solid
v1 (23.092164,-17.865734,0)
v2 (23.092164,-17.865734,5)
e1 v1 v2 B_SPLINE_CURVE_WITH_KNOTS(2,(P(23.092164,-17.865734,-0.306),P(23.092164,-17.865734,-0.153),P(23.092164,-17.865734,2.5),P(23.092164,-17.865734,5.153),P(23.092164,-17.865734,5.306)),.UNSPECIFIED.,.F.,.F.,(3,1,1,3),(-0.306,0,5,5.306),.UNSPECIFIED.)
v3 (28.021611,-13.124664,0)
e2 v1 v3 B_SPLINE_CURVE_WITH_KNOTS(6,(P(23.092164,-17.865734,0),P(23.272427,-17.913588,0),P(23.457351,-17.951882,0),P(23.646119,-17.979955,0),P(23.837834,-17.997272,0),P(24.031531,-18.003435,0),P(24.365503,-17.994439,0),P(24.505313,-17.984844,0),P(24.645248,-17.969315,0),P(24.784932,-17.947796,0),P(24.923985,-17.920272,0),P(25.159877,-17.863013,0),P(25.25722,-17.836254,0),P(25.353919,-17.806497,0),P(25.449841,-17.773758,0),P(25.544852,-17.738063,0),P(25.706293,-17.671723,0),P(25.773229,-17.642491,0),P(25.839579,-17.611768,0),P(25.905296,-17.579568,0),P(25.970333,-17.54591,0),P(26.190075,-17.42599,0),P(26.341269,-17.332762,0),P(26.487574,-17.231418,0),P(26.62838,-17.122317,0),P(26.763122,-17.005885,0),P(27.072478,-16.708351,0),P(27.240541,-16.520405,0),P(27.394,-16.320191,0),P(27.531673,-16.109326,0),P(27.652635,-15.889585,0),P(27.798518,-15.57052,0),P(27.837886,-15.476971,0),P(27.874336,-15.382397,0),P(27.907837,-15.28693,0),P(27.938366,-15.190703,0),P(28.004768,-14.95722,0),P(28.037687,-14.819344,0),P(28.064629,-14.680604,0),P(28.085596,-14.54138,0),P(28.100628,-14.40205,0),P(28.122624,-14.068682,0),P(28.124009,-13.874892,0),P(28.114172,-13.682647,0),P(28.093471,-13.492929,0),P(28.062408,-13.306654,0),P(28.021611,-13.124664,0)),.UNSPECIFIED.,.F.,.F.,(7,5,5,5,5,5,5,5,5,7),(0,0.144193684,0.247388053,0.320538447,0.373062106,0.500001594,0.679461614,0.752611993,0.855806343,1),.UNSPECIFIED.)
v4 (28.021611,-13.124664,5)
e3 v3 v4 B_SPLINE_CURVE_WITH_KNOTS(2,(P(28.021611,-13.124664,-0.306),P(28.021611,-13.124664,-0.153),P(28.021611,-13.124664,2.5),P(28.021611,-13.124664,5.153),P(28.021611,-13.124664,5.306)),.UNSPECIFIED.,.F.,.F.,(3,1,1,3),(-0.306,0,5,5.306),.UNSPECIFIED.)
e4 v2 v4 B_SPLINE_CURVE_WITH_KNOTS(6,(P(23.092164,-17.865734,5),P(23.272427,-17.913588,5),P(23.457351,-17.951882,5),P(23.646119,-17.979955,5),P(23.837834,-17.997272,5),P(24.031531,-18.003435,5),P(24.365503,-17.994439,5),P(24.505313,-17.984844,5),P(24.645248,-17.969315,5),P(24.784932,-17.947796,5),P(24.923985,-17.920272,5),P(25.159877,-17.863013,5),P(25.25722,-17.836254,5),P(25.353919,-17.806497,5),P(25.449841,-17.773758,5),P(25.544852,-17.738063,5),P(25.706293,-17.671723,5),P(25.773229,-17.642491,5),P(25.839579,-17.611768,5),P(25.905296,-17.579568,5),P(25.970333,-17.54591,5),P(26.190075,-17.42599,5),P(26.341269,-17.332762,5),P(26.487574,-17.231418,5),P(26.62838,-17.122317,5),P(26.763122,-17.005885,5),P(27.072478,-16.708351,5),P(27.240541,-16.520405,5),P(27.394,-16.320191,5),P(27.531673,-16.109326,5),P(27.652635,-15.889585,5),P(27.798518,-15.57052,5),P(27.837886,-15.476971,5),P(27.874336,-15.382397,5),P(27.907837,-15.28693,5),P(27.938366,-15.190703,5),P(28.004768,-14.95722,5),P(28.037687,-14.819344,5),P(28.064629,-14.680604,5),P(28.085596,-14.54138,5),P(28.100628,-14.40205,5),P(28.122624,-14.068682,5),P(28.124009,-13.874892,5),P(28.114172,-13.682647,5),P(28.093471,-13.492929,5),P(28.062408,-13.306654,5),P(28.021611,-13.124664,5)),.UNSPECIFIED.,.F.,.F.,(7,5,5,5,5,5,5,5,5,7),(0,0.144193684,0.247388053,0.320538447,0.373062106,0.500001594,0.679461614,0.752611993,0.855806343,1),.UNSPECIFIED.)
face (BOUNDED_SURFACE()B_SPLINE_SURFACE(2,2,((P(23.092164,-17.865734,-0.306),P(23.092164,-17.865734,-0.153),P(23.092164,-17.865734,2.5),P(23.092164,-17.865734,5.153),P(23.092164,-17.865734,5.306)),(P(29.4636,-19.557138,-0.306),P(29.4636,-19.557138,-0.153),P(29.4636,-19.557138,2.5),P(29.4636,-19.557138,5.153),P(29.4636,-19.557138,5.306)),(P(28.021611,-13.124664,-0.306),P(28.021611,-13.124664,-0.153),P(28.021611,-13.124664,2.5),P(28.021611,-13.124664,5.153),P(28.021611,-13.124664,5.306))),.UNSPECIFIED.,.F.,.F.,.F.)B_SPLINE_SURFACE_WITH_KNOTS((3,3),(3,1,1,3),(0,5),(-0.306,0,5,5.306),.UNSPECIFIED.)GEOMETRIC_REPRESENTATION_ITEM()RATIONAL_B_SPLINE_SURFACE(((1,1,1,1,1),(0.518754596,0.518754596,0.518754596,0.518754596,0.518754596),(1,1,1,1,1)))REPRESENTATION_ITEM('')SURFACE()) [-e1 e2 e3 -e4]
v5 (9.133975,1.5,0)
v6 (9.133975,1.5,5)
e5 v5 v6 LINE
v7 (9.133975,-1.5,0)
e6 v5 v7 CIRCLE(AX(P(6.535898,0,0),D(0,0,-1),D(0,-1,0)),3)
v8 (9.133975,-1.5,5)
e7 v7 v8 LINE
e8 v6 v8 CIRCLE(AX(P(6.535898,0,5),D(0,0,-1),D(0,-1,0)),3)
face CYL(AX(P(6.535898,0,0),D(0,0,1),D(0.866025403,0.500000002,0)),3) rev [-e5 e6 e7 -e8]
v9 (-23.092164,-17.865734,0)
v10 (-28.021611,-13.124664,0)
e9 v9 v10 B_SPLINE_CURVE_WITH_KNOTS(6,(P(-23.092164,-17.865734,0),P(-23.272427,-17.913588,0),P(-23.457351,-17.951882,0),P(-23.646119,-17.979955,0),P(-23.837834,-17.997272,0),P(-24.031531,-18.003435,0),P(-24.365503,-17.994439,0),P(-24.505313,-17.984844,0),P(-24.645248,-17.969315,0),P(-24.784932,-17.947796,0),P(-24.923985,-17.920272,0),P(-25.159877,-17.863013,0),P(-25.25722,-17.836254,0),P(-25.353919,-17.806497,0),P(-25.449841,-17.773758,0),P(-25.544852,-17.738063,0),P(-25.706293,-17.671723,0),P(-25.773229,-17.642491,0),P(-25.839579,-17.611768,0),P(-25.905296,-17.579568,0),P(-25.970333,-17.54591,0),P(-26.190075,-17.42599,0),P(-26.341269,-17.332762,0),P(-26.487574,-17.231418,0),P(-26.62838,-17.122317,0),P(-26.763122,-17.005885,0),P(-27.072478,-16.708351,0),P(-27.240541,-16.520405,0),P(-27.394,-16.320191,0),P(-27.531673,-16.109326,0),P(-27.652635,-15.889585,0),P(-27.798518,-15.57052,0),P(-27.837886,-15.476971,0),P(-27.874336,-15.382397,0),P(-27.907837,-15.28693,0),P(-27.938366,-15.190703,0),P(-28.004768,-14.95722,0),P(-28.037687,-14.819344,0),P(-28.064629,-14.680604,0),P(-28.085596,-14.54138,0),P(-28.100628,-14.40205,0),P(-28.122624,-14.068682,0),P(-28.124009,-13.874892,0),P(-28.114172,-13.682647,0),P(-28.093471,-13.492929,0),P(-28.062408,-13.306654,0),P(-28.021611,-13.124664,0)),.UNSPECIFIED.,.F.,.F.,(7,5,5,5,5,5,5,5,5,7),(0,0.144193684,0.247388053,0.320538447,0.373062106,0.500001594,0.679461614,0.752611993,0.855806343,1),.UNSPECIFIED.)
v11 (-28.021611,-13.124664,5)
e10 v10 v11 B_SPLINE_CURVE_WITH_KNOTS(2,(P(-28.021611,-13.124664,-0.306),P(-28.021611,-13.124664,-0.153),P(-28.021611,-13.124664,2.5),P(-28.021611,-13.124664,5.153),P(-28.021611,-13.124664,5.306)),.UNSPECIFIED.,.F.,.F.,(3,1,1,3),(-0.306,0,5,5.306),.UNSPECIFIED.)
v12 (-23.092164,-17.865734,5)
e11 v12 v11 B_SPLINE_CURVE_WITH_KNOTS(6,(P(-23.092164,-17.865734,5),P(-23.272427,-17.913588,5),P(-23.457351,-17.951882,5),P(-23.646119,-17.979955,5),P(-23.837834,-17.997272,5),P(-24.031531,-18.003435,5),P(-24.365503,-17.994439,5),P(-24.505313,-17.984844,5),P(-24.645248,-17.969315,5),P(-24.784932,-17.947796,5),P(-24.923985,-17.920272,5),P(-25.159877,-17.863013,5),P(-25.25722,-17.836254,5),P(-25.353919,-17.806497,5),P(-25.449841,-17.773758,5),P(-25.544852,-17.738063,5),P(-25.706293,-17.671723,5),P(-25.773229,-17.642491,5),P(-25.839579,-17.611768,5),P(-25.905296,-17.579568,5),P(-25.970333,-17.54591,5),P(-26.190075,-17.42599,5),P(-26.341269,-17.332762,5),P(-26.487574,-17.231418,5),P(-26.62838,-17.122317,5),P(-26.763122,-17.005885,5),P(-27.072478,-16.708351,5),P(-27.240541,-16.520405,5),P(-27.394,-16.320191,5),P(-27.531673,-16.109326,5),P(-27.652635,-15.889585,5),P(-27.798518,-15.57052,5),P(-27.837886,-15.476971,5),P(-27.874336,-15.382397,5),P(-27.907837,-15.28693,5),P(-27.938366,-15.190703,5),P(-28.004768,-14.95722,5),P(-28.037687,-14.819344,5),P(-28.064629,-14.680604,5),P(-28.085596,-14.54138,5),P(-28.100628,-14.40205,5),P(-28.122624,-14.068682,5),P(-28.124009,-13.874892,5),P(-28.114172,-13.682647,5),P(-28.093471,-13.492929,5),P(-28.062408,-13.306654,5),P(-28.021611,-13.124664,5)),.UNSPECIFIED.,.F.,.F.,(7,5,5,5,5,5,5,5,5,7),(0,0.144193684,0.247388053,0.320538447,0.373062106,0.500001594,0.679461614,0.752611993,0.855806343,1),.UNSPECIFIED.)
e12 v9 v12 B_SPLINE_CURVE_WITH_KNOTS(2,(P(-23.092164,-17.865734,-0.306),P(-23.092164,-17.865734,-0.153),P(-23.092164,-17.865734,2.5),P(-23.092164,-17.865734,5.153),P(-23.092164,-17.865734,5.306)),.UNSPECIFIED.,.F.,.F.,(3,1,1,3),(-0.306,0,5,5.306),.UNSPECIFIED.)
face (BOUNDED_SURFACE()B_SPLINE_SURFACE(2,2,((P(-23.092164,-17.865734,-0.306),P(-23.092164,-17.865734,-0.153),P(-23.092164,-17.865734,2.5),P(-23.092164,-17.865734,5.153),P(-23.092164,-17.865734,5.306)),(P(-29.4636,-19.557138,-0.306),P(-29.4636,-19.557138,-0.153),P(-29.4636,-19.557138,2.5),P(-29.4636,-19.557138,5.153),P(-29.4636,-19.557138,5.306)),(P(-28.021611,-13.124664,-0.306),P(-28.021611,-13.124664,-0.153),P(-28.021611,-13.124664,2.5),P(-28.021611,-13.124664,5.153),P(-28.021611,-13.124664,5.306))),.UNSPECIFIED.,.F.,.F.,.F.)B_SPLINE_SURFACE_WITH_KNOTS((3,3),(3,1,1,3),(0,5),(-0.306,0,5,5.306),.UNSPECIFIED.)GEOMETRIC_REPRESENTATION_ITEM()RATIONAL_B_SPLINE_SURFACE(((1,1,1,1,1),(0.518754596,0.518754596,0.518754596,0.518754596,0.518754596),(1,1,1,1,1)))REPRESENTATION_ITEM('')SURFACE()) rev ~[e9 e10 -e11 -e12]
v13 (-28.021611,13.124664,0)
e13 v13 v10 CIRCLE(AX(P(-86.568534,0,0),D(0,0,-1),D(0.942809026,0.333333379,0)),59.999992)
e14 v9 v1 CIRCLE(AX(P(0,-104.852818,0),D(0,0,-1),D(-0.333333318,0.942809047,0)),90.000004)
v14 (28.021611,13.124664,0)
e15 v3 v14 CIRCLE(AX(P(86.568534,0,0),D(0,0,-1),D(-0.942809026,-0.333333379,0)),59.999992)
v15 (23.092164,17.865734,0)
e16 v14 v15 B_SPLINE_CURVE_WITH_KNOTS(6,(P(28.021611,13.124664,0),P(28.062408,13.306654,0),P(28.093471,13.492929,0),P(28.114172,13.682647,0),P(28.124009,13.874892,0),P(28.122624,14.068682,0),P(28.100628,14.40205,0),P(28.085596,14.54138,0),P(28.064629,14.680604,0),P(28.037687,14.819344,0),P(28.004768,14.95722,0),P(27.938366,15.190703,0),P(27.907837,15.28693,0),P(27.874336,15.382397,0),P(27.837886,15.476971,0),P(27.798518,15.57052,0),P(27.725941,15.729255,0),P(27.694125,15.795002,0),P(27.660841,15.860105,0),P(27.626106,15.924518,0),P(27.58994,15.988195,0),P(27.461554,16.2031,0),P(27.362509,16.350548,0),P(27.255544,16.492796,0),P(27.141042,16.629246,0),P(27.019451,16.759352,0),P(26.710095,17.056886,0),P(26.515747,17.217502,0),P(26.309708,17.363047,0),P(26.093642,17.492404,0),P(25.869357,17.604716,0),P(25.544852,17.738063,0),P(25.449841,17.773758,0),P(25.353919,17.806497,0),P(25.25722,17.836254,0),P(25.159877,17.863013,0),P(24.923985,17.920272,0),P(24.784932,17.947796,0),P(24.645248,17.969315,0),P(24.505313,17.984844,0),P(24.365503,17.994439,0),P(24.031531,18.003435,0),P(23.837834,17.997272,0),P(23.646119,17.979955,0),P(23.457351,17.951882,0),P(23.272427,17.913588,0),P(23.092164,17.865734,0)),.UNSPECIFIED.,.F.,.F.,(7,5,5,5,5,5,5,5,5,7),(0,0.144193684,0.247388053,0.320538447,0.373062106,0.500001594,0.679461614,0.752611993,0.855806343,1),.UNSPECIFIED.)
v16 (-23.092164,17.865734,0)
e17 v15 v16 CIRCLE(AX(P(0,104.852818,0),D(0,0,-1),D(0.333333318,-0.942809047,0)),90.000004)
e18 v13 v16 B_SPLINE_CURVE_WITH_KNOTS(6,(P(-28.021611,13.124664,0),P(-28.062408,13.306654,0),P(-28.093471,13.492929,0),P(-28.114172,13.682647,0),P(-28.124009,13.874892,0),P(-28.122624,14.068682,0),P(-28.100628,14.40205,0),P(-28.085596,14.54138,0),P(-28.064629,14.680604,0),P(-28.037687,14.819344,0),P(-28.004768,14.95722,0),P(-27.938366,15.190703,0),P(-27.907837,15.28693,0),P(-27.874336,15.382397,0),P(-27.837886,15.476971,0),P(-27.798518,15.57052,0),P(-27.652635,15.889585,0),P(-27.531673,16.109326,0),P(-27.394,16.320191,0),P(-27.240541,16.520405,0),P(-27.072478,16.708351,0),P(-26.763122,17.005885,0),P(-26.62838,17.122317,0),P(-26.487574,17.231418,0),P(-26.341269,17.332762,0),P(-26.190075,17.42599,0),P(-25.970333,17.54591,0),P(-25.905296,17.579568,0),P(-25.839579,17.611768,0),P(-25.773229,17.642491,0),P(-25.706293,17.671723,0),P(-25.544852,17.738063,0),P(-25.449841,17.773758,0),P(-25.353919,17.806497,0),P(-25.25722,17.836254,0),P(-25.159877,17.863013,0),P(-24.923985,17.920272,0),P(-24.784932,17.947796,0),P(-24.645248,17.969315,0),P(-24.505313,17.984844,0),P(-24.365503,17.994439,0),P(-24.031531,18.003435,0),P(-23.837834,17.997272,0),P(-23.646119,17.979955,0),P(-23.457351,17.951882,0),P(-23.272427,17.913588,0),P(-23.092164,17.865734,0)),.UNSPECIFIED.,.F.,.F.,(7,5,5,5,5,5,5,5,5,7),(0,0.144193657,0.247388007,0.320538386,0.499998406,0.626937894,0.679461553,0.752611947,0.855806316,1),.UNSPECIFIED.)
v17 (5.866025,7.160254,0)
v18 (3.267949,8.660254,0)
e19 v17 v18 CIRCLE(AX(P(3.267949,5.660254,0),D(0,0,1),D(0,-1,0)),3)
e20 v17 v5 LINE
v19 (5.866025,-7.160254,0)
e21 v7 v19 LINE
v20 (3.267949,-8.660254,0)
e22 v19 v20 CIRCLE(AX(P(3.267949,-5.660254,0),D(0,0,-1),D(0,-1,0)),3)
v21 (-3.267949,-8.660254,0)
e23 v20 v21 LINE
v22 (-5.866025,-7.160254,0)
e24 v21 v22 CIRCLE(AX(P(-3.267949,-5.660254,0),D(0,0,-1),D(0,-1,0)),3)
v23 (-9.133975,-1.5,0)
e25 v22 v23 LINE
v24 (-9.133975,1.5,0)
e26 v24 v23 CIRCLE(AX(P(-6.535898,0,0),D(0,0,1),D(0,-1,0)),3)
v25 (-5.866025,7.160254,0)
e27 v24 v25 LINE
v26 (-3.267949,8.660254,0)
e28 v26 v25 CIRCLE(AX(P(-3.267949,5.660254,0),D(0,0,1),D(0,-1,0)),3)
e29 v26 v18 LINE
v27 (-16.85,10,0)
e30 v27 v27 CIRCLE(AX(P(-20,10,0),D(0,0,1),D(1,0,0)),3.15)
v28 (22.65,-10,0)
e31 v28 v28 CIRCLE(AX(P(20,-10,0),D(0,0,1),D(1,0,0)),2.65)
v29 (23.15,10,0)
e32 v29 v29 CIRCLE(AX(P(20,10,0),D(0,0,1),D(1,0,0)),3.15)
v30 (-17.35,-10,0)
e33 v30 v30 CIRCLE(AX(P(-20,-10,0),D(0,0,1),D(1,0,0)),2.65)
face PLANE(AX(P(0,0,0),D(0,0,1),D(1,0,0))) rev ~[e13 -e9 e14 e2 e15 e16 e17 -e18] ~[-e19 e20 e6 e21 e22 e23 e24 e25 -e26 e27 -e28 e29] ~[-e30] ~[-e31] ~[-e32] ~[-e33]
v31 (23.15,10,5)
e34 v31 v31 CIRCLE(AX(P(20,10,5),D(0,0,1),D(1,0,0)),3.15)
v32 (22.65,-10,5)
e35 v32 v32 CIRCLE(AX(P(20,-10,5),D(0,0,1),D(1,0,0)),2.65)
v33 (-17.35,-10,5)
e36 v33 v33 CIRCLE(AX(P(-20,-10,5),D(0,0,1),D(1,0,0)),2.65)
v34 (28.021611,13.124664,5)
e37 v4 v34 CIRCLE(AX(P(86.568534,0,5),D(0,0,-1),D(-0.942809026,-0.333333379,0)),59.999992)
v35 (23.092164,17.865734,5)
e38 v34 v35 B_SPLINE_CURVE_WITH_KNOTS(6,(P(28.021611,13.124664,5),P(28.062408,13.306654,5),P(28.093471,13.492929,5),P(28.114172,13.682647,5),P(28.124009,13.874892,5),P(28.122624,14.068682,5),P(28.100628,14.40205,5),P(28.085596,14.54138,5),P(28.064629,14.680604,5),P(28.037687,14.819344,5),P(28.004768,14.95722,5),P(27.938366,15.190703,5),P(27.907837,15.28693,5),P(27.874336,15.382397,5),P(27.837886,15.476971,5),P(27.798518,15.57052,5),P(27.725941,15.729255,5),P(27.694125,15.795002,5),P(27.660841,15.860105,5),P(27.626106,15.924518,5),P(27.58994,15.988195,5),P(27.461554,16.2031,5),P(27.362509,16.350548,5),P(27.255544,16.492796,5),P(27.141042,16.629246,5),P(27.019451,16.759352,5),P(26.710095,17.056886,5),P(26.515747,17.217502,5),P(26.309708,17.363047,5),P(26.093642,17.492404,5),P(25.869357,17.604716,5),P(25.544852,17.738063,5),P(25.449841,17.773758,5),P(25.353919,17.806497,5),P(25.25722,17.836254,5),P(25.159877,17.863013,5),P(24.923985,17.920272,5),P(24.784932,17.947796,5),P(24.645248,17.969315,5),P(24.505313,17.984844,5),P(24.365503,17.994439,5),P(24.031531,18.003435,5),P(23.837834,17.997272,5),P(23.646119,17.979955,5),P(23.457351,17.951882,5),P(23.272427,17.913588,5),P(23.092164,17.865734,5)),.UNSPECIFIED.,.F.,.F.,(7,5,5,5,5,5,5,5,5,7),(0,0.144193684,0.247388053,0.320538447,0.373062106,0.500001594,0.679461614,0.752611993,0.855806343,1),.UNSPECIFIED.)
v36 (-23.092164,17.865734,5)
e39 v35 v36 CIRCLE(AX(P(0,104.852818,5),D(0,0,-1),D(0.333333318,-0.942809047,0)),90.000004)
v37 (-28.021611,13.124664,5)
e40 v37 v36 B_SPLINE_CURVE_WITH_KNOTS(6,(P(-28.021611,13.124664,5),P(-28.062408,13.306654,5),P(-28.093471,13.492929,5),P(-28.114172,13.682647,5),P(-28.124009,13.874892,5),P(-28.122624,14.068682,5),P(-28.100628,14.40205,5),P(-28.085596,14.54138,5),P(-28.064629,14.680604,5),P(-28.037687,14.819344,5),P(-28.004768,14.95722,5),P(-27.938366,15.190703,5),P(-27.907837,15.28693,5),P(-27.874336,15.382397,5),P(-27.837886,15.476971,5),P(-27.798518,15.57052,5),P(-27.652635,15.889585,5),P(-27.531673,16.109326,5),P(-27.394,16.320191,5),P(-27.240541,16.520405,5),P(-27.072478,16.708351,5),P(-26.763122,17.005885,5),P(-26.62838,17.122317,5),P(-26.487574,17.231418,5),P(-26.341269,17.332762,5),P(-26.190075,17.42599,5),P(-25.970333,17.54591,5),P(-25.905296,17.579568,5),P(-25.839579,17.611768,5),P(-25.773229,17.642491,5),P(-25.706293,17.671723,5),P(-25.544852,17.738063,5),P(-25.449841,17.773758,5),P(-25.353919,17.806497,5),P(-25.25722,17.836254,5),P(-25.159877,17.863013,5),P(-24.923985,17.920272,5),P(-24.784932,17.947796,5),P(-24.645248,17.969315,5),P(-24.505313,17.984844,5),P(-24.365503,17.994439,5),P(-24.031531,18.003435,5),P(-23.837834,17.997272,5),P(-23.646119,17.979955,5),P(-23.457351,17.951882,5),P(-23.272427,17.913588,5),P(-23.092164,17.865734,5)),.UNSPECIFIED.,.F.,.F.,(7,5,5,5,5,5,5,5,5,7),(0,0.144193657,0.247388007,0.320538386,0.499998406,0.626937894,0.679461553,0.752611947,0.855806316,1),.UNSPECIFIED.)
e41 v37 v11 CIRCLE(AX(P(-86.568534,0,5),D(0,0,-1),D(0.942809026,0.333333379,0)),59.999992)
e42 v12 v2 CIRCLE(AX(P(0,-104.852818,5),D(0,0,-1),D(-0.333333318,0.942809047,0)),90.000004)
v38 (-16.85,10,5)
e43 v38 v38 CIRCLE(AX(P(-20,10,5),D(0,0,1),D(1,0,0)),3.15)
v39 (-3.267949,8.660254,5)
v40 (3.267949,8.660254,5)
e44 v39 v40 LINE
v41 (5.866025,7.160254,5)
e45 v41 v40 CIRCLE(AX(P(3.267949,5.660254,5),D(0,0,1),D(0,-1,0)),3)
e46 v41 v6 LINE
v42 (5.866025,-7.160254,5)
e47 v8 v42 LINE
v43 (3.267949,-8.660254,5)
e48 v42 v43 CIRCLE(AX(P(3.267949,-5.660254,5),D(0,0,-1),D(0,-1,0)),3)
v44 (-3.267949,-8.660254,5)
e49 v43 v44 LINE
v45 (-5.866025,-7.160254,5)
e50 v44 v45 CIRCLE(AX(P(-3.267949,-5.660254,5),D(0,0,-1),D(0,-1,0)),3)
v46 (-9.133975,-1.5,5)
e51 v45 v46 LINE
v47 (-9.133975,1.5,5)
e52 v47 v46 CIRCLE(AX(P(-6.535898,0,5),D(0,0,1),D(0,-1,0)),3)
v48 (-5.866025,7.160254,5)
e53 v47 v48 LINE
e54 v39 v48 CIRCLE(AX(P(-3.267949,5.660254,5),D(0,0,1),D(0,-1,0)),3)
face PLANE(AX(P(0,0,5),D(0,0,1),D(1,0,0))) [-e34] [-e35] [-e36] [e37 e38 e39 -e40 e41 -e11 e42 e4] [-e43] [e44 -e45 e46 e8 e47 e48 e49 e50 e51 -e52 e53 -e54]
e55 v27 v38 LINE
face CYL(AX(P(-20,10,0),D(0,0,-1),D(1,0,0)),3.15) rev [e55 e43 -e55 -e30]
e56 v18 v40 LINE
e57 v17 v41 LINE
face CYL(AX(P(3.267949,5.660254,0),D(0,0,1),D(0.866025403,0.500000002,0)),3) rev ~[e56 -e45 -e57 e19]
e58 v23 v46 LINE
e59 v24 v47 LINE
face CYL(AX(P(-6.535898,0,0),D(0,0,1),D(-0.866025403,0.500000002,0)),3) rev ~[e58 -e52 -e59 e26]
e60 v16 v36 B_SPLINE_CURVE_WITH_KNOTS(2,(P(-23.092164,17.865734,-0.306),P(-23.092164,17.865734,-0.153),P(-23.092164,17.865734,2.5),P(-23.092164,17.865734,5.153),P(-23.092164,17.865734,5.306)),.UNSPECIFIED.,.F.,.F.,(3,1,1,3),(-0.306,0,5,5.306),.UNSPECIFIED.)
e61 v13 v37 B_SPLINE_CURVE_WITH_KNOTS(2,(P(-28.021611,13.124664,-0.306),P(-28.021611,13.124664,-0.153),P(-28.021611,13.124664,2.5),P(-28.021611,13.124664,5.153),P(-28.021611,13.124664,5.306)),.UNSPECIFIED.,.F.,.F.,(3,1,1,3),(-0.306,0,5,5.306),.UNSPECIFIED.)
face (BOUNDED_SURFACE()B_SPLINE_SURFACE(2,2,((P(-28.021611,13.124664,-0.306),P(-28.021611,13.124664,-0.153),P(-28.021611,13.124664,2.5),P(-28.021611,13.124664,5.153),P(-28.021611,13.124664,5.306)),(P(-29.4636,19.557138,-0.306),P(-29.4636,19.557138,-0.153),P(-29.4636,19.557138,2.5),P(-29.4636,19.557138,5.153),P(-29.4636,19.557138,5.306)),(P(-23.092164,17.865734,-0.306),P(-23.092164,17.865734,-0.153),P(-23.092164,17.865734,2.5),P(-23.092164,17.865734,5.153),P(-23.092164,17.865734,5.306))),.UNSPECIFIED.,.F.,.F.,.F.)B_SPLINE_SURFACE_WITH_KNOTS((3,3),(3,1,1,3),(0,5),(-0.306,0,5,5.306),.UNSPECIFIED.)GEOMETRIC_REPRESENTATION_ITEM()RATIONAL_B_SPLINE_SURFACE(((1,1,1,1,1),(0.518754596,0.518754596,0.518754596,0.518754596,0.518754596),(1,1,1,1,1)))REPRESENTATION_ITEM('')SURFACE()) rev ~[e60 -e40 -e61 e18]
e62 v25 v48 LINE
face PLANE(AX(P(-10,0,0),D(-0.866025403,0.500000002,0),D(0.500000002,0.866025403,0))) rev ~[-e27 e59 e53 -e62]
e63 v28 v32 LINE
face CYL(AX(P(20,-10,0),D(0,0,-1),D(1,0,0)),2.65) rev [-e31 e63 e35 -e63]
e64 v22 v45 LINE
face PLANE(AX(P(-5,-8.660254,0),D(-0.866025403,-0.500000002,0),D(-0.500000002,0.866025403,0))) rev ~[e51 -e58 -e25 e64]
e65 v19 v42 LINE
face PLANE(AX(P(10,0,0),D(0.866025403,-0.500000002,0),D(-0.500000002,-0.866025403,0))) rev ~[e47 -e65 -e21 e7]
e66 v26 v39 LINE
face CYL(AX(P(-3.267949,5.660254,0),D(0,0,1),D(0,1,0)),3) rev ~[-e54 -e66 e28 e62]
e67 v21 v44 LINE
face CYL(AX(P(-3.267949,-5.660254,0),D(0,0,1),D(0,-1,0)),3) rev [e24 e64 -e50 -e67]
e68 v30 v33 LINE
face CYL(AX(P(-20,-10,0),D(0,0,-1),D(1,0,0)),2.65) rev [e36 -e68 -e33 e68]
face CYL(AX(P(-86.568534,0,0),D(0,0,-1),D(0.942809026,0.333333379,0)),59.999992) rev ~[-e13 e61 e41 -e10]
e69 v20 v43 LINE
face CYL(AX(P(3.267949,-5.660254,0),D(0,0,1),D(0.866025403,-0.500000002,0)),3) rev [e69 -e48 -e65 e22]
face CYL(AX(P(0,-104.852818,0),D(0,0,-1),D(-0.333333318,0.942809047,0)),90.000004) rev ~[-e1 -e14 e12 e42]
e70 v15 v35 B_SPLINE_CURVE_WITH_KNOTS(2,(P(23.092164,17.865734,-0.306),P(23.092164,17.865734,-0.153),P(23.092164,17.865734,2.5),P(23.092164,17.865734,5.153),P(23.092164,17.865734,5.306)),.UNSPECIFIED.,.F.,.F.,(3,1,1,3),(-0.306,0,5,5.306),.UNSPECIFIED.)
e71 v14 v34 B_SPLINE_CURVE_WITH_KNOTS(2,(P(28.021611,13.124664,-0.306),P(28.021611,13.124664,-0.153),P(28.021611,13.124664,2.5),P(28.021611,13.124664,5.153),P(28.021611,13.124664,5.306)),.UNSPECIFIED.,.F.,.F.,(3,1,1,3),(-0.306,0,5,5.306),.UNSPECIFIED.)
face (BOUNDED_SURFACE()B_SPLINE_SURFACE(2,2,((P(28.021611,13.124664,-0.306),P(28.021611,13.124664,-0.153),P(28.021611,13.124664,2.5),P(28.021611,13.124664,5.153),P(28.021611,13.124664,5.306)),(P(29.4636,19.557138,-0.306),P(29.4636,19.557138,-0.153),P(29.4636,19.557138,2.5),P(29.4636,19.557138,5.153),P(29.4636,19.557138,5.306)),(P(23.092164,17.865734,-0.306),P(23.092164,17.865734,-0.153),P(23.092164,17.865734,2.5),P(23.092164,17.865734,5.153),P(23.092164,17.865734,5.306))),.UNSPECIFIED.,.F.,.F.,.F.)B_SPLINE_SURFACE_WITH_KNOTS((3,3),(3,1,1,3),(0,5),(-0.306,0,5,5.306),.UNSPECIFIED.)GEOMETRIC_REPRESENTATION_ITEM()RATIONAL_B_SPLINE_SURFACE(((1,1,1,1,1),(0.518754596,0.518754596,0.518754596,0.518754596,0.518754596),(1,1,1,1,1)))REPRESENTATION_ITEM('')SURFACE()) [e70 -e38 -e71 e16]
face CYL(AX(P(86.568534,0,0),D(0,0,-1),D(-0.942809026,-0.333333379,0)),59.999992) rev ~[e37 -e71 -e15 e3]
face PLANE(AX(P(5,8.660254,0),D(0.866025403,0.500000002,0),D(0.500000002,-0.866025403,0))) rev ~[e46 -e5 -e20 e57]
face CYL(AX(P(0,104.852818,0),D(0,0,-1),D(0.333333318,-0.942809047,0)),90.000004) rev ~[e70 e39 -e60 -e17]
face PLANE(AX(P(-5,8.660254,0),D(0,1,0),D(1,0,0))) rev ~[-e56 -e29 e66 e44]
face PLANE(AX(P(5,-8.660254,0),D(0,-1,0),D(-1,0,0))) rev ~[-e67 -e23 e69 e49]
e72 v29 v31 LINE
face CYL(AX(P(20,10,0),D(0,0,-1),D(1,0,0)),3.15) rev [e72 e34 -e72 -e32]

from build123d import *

# Parameters (mm, degrees)
F0_R     = 2.65
F0_R_2   = 3.15
F1_DEPTH = 5
F2_R     = 4
F3_R     = 3


with BuildPart() as f1:
    # F0 (on Top) → F1 (new body)
    with BuildSketch(Plane.XY):
        with BuildLine():
            ThreePointArc((-30, -20), (0, -14.852814), (30, -20))
            ThreePointArc((30, -20), (26.568542, 0), (30, 20))
            ThreePointArc((30, 20), (0, 14.852814), (-30, 20))
            ThreePointArc((-30, 20), (-26.568542, 0), (-30, -20))
        make_face()
        with Locations((-20, -10)):
            Circle(F0_R, mode=Mode.SUBTRACT)
        with Locations((20, -10)):
            Circle(F0_R, mode=Mode.SUBTRACT)
        with Locations((-20, 10)):
            Circle(F0_R_2, mode=Mode.SUBTRACT)
        Polygon((10, 0), (5, -8.660254), (-5, -8.660254), (-10, 0), (-5, 8.660254), (5, 8.660254), align=None, mode=Mode.SUBTRACT)
        with Locations((20, 10)):
            Circle(F0_R_2, mode=Mode.SUBTRACT)
    extrude(amount=F1_DEPTH)

    # F2
    f2_edges = [f1.edges().sort_by_distance(p)[0] for p in [
        (30, 20, 2.5),
        (-30, 20, 2.5),
        (-30, -20, 2.5),
        (30, -20, 2.5),
    ]]
    fillet(f2_edges, radius=F2_R)

    # F3
    f3_edges = [f1.edges().sort_by_distance(p)[0] for p in [
        (5, 8.660254, 2.5),
        (-5, 8.660254, 2.5),
        (10, 0, 2.5),
        (5, -8.660254, 2.5),
        (-5, -8.660254, 2.5),
        (-10, 0, 2.5),
    ]]
    fillet(f3_edges, radius=F3_R)


solid = f1.part
